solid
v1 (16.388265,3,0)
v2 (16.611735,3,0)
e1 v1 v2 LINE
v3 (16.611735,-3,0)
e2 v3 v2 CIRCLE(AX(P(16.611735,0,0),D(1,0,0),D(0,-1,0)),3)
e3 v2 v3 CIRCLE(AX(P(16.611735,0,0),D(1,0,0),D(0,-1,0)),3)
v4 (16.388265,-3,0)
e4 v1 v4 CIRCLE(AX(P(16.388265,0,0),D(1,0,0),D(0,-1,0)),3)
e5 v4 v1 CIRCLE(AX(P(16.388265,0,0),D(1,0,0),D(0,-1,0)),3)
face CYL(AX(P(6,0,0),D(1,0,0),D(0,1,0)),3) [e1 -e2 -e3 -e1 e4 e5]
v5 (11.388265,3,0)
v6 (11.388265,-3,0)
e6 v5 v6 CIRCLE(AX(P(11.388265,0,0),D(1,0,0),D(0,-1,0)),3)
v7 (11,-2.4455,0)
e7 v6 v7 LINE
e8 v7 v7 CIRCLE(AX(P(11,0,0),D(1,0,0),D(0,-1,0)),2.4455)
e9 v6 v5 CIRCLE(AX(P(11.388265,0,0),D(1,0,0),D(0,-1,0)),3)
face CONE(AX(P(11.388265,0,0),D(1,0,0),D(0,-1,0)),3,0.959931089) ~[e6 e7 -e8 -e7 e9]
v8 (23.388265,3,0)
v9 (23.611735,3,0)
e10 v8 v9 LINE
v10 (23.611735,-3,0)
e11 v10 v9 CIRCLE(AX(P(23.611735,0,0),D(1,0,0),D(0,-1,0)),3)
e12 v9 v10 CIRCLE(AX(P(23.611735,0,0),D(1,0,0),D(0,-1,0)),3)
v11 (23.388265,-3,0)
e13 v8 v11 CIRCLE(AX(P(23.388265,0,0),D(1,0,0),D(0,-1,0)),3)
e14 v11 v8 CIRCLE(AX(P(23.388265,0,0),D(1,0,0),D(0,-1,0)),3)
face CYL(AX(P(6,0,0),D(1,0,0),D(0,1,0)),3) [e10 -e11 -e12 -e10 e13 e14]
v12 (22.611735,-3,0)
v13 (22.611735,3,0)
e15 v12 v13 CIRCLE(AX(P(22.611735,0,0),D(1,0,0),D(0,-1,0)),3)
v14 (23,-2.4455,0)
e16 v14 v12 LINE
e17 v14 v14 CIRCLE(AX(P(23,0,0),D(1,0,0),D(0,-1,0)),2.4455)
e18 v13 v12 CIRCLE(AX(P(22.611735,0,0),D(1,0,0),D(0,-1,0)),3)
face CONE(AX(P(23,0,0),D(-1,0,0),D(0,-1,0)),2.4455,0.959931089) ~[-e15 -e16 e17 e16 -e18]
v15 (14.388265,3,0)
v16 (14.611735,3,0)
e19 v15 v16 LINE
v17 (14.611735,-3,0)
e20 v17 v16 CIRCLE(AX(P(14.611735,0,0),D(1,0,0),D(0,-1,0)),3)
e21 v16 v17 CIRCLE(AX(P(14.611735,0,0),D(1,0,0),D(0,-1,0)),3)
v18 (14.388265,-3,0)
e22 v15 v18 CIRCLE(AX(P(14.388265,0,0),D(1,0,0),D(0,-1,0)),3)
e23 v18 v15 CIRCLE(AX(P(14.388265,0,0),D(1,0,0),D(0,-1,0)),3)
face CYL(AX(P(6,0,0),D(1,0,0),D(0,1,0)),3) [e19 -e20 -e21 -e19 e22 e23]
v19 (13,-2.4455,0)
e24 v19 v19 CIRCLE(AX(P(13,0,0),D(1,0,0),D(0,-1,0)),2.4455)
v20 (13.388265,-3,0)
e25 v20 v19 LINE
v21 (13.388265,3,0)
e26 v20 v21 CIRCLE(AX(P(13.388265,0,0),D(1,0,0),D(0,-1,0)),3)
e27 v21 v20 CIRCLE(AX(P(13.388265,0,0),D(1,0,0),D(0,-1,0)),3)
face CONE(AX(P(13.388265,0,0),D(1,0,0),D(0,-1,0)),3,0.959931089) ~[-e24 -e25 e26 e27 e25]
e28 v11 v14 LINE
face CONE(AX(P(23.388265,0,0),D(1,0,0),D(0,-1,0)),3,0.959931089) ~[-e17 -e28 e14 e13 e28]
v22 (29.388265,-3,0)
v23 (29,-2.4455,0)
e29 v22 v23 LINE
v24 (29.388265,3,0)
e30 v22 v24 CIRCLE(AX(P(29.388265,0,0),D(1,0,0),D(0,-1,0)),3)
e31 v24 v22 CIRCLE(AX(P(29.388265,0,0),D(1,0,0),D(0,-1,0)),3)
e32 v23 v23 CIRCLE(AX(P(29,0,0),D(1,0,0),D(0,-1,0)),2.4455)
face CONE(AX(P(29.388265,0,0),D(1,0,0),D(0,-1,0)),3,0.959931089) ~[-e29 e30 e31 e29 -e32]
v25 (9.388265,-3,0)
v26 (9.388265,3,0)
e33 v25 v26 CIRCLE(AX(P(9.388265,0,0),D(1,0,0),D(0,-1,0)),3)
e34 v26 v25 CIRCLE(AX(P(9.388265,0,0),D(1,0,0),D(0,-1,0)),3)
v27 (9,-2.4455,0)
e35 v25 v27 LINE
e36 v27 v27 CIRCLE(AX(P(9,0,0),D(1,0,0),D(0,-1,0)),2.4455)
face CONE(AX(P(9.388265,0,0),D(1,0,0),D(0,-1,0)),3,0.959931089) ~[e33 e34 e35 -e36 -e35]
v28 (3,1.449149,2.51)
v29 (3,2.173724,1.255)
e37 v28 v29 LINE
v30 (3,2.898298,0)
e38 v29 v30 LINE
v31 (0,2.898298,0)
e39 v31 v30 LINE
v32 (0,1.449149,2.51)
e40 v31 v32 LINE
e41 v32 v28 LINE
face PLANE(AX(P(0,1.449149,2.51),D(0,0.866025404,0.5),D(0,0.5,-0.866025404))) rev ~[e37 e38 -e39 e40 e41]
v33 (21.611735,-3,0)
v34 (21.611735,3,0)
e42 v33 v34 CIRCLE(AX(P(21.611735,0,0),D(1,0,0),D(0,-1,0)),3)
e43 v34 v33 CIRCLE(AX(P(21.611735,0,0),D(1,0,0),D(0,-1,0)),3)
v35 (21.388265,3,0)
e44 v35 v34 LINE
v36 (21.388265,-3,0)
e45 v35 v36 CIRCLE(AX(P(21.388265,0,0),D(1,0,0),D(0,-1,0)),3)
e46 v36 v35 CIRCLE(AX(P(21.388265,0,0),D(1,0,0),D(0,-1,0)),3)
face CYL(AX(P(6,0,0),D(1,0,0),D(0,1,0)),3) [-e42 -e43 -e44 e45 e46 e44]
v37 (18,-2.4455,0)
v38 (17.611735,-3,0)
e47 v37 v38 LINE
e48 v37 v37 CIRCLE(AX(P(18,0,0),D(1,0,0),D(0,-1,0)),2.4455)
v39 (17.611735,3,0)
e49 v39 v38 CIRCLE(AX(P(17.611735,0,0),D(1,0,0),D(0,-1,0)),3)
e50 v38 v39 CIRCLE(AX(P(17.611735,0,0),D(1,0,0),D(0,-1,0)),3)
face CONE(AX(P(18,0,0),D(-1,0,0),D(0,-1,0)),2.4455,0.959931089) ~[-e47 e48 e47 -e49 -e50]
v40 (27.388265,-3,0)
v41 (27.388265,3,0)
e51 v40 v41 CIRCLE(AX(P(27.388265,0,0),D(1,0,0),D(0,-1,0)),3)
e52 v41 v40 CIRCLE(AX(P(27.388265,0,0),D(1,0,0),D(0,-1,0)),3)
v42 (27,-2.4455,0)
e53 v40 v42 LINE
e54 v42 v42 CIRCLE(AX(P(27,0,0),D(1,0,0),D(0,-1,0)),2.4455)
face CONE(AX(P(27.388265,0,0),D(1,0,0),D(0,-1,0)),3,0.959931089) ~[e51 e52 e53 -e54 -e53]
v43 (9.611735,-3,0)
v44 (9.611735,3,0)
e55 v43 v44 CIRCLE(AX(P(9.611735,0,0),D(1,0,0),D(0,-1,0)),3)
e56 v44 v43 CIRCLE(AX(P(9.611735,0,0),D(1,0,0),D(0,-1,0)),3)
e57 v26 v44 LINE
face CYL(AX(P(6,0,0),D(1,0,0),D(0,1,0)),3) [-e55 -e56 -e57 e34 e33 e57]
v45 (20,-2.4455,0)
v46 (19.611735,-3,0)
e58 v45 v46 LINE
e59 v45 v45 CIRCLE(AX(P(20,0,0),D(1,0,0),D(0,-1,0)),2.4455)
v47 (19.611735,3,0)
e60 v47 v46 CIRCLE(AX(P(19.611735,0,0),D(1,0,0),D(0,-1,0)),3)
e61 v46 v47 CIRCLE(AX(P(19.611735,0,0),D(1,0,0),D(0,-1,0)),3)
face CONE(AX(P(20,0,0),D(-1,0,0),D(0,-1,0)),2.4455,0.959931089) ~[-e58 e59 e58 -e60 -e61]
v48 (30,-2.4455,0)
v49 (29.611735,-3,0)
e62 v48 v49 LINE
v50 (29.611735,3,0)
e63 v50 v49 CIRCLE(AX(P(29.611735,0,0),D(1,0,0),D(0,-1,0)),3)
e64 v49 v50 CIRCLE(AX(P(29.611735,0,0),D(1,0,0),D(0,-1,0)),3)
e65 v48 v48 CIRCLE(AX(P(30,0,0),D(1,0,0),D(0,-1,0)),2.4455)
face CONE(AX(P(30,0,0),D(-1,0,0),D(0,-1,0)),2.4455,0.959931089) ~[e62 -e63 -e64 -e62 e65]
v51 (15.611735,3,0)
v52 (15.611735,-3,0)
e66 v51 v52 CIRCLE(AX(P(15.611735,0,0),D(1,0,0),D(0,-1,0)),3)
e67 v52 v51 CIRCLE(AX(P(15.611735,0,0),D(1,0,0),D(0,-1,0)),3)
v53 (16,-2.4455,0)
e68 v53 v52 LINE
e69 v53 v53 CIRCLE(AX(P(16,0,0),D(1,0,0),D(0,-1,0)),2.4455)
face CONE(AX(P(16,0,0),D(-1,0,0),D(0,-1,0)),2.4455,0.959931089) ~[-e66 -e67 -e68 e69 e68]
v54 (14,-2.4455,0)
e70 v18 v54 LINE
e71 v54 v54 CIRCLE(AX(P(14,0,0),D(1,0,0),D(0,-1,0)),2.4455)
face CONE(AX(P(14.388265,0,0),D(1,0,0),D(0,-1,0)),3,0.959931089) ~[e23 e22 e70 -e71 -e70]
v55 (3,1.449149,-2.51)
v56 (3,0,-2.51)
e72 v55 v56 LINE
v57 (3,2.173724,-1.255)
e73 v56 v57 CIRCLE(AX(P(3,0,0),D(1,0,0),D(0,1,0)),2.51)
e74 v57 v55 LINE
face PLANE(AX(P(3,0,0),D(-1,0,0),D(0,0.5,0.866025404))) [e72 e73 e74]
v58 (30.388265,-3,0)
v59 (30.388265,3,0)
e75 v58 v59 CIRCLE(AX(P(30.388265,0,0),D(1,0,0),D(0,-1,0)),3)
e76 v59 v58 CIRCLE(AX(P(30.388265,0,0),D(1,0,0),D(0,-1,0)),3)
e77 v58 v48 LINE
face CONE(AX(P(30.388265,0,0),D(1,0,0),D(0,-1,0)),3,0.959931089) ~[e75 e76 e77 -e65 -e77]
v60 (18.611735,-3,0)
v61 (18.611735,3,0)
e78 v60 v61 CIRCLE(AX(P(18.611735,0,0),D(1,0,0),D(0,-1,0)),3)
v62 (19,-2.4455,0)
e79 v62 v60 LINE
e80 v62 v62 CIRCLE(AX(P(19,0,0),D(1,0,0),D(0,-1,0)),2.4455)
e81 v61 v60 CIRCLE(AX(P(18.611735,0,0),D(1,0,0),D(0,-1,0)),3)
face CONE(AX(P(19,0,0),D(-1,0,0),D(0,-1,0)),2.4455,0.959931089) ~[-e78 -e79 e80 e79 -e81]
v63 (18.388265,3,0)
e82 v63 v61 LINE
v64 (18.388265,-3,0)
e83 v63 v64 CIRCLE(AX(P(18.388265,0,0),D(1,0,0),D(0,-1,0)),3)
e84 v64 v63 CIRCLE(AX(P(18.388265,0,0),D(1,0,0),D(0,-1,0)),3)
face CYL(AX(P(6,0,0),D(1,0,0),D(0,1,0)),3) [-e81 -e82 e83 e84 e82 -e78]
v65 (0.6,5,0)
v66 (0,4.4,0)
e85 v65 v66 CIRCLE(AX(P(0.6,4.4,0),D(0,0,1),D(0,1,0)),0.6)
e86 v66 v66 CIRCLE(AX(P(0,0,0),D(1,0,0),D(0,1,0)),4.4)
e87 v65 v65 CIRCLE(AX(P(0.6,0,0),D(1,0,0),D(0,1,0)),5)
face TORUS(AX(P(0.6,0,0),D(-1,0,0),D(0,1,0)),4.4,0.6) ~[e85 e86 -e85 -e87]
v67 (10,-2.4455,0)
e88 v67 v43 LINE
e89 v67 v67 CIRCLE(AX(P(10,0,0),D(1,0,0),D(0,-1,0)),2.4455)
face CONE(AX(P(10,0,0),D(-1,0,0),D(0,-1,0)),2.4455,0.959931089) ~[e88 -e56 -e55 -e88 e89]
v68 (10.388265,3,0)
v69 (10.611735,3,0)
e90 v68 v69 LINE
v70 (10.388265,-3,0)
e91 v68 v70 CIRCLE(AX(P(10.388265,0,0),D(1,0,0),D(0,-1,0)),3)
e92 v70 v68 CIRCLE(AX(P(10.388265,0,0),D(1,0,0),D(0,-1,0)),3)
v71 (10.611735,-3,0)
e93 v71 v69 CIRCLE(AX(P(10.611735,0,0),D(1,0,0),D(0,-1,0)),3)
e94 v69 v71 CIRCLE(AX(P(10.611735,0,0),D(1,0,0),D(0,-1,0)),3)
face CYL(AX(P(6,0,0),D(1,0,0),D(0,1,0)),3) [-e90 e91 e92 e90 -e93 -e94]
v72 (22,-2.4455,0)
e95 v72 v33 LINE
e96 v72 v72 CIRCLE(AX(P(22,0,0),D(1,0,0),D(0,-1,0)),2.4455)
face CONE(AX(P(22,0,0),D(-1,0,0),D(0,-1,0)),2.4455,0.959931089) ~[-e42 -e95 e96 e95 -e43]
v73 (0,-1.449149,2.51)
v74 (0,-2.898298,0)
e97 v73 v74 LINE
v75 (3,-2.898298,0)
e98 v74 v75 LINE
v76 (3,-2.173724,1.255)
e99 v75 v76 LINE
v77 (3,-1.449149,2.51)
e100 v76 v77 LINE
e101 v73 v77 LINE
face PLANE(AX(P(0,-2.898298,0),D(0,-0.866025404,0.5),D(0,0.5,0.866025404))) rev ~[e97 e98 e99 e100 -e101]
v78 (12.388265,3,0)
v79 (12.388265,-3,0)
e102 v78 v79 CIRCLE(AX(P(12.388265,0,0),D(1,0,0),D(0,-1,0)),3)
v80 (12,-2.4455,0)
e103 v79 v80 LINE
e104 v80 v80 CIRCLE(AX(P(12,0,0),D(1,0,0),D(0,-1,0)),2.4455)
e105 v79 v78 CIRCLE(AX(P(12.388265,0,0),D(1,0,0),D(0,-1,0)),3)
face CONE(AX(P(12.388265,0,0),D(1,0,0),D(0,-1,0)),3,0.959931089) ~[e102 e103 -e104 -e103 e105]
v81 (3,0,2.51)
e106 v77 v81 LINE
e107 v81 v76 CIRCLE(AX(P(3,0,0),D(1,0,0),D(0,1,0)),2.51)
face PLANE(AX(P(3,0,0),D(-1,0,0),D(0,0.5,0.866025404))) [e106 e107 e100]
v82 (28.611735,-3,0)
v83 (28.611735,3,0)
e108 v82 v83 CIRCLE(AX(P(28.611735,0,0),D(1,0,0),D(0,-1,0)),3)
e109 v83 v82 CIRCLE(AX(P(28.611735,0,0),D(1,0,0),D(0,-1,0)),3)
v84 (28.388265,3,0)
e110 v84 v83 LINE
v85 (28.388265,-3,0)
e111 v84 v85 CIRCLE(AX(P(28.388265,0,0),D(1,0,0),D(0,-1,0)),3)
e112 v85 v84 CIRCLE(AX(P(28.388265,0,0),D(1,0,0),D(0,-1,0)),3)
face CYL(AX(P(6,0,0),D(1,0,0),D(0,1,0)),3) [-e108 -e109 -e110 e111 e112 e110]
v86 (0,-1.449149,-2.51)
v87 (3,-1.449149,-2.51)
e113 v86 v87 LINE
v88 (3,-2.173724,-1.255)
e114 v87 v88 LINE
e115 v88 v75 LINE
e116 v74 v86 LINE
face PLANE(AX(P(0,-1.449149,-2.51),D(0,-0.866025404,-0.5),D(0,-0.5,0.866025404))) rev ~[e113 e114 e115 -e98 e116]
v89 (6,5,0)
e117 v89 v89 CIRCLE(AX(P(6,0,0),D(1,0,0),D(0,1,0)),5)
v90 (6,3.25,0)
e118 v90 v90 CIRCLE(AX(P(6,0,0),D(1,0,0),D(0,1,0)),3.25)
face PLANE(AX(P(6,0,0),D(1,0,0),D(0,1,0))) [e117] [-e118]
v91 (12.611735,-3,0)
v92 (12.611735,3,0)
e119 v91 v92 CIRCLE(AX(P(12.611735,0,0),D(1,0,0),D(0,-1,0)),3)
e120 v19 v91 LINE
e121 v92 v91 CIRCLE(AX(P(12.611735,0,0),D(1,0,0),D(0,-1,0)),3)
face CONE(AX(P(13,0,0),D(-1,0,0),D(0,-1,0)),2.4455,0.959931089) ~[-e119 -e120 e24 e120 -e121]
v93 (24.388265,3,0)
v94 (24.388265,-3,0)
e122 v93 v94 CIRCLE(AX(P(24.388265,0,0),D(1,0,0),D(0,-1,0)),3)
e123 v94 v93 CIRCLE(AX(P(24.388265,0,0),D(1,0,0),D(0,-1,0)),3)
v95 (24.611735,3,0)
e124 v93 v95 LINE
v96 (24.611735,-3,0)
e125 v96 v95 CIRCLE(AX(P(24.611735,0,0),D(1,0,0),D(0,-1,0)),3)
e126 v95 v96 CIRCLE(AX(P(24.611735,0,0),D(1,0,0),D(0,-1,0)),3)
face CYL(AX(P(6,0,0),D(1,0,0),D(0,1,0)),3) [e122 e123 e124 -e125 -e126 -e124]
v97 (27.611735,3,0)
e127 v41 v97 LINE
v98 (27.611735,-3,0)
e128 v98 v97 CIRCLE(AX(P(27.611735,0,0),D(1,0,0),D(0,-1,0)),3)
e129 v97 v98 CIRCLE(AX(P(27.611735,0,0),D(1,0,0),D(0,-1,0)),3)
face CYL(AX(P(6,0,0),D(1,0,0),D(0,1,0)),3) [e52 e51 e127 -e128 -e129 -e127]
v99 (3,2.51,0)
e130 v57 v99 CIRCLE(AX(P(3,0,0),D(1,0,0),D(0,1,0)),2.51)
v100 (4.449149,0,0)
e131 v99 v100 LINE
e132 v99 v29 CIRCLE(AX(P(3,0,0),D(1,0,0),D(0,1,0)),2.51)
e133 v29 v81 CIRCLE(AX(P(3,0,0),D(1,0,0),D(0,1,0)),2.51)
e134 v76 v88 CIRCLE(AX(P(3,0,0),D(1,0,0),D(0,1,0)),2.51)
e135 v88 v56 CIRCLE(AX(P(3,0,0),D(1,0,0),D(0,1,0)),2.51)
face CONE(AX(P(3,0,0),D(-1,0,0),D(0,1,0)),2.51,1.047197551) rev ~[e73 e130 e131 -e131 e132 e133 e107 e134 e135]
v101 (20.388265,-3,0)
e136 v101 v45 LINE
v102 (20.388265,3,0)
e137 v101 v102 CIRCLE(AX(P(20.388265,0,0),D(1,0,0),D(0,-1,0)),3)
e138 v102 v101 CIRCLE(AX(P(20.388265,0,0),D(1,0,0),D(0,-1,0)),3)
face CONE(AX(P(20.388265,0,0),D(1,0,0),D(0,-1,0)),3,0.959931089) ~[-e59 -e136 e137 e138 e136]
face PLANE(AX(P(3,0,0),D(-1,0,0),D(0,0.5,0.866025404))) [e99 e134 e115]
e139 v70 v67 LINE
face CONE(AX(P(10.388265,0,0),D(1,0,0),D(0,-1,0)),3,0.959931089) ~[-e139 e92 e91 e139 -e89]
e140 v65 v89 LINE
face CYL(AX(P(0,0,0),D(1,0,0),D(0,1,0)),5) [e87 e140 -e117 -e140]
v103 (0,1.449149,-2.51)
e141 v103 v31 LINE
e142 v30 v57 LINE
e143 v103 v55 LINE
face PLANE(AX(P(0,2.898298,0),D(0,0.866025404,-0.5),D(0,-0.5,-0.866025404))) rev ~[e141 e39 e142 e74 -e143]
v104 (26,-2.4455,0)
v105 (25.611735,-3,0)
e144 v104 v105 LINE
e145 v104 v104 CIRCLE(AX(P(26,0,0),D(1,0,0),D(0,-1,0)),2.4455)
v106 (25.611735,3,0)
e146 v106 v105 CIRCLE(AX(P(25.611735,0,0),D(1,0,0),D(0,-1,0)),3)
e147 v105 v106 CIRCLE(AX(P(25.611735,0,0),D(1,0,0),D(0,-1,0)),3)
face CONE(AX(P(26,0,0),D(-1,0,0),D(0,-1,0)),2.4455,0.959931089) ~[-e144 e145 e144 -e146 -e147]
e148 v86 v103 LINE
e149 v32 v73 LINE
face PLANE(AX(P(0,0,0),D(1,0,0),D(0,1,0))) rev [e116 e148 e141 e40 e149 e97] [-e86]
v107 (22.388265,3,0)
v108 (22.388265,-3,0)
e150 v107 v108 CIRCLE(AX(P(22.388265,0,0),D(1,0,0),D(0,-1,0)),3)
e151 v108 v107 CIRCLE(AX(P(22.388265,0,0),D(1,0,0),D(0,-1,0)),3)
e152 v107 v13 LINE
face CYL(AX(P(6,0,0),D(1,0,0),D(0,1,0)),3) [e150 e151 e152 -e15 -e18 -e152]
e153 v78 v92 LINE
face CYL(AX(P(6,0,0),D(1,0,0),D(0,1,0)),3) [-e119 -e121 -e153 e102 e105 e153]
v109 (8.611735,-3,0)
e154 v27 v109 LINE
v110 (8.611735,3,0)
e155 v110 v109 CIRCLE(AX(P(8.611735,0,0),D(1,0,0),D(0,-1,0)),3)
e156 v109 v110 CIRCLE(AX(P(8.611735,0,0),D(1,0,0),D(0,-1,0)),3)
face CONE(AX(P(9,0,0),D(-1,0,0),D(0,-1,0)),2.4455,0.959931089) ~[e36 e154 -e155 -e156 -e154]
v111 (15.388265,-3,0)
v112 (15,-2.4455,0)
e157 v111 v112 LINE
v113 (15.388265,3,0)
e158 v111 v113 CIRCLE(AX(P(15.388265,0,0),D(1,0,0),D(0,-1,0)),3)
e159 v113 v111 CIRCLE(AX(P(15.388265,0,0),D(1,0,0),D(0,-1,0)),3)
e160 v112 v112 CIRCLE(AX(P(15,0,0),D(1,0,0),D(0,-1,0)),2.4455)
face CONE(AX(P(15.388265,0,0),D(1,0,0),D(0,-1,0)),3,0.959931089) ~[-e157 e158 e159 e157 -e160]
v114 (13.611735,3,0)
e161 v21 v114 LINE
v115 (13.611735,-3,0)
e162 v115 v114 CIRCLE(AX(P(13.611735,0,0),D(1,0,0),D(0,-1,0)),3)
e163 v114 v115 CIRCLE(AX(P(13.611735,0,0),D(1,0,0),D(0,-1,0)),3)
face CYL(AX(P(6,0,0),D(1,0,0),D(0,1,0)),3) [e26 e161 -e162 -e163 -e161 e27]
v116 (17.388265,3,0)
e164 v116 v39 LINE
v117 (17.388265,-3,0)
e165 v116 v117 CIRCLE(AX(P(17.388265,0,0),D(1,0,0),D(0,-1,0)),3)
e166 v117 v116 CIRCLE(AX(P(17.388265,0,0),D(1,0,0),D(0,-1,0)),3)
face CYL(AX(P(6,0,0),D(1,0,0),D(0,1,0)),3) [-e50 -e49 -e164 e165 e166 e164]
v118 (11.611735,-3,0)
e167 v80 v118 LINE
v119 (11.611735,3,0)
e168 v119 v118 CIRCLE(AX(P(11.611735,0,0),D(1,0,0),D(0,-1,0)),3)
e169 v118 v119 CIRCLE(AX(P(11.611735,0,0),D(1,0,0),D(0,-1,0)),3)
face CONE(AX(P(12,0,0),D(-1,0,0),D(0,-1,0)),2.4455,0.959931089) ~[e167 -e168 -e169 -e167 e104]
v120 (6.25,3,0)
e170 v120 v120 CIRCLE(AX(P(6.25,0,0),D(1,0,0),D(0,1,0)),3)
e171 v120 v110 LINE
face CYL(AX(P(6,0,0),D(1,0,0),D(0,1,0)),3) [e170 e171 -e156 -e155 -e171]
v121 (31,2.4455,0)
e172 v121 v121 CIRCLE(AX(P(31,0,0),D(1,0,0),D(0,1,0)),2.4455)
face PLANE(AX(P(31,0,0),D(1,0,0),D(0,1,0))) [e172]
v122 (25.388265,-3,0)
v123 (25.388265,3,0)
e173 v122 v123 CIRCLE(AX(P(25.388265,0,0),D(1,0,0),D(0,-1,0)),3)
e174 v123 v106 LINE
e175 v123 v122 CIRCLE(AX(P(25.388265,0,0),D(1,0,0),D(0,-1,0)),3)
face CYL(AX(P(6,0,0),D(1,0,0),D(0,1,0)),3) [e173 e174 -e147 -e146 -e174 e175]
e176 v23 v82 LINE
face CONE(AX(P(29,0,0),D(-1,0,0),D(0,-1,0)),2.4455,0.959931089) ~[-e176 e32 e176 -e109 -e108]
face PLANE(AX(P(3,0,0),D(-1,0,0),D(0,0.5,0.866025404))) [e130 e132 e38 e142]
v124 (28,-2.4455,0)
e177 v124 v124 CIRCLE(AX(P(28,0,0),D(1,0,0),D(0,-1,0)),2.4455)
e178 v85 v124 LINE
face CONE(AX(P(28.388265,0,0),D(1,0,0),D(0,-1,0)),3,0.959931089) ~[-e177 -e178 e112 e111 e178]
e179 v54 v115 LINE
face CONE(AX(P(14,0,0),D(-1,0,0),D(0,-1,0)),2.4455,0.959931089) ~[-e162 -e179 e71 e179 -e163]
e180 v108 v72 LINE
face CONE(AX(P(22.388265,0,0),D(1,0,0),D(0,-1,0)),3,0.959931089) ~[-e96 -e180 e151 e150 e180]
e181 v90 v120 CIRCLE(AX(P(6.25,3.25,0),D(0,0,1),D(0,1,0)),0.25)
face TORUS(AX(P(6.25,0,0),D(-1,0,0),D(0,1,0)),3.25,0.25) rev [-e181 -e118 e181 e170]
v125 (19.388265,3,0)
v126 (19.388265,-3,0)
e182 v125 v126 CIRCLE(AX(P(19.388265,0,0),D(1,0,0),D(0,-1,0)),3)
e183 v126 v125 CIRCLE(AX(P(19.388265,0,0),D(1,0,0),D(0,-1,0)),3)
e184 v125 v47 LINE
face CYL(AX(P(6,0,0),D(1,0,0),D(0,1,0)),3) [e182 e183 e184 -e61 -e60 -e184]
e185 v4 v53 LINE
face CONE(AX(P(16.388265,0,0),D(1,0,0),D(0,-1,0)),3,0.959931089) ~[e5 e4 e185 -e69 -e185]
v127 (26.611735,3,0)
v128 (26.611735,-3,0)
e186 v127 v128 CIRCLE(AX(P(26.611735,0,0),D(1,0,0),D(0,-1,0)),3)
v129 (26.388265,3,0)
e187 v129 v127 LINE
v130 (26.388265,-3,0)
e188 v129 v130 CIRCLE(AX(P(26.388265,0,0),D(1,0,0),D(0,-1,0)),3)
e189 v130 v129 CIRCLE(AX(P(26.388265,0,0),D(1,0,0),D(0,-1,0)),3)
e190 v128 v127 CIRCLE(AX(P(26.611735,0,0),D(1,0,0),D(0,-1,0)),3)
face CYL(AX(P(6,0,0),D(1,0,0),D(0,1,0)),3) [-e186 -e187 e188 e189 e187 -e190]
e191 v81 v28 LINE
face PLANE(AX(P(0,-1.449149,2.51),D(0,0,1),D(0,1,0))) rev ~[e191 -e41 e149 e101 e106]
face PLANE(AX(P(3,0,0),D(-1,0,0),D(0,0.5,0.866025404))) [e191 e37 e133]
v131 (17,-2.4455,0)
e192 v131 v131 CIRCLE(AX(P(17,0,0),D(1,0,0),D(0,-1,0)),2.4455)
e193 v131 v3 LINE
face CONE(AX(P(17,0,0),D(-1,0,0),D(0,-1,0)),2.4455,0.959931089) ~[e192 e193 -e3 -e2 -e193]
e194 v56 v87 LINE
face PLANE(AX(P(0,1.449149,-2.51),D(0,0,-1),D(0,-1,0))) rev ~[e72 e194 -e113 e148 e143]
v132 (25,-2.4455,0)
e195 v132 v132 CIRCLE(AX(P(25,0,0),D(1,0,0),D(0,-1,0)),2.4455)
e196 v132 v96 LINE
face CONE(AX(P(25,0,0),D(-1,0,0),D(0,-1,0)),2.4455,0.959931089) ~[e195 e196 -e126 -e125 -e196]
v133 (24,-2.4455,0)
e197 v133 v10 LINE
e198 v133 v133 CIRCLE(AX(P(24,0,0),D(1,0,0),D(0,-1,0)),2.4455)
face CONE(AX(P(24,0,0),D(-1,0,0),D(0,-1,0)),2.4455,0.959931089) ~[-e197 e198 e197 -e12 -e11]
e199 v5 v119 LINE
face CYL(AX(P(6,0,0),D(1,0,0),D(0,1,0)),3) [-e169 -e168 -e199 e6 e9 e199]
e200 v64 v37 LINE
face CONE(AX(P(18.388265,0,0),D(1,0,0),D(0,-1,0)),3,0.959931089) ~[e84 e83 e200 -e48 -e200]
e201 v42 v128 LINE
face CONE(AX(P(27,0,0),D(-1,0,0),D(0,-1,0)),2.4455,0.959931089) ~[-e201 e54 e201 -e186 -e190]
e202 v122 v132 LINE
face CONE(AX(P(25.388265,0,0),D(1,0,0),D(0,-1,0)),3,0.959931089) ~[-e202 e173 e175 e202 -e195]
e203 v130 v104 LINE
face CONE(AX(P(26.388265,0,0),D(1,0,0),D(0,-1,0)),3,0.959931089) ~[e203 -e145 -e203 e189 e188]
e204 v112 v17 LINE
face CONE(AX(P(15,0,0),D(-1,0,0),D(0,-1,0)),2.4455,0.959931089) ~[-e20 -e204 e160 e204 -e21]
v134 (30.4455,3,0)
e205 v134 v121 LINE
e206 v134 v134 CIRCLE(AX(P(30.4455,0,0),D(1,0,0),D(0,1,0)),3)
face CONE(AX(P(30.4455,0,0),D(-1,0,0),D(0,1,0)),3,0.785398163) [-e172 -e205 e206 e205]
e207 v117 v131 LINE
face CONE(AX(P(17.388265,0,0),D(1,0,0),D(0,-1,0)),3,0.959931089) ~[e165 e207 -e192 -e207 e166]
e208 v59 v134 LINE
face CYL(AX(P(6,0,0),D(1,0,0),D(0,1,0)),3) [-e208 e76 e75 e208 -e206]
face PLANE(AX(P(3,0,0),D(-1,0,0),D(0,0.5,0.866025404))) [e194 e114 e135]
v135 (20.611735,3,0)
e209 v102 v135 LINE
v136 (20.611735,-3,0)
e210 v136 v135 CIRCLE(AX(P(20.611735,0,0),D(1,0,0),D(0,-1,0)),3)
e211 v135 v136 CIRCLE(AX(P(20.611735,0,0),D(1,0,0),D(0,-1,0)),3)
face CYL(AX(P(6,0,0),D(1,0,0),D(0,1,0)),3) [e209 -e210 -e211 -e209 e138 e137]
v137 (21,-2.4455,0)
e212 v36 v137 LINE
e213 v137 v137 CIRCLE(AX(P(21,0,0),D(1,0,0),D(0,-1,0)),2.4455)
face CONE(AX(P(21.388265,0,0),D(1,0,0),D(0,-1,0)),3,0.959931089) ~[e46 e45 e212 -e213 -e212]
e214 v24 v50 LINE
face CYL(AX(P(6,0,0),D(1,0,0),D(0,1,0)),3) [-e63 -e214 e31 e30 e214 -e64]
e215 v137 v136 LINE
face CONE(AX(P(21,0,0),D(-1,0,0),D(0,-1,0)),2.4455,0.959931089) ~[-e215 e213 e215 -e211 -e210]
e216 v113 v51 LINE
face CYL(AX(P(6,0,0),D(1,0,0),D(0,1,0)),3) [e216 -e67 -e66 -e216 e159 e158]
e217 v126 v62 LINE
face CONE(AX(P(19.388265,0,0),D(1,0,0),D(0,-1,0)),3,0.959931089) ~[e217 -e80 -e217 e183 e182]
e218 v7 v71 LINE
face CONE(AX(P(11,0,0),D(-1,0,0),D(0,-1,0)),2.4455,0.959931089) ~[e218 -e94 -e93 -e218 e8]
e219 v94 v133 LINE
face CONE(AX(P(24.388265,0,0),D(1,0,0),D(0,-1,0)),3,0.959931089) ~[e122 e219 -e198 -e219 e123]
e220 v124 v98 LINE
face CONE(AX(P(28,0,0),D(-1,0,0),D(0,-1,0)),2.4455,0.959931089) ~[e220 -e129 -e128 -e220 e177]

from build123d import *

# Parameters (mm, degrees)
FILLET1_R       = 0.25
FILLET2_R       = 0.6
HEX_2_DEPTH     = 3
THDSCHPAT_COUNT = 22
THDSCHPAT_PITCH = 1


with BuildPart() as part:
    # BodySke → Base-Revolve (revolve)
    with BuildSketch(Plane.XY):
        Polygon((0, 0), (0, 5), (6, 5), (6, 3), (30.4455, 3), (31, 2.4455), (31, 0), align=None)
    revolve(axis=Axis((-31.75, 0, 0), (1, 0, 0)))

    # Fillet1
    fillet1_edges = [part.edges().sort_by_distance(p)[0] for p in [
        (6, -3, 0),
    ]]
    fillet(fillet1_edges, radius=FILLET1_R)

    # Fillet2
    fillet2_edges = [part.edges().sort_by_distance(p)[0] for p in [
        (0, -5, 0),
    ]]
    fillet(fillet2_edges, radius=FILLET2_R)

    # Sketch2 → Hex-PreBroach (revolve, cut)
    with BuildSketch(Plane.XY):
        Polygon((0, 2.51), (3, 2.51), (4.449149176, 0), (0, 0), align=None)
    revolve(axis=Axis((0, 0, 0), (1, 0, 0)), mode=Mode.SUBTRACT)

    # Sketch3 → Hex 2 (cut)
    with BuildSketch(Plane(origin=(0, 0, 0), x_dir=(0, 0.5, 0.866025404), z_dir=(-1, 0, 0))):
        Polygon((1.449149176, 2.51), (-1.449149176, 2.51), (-2.898298351, 0), (-1.449149176, -2.51), (1.449149176, -2.51), (2.898298351, 0), align=None)
    extrude(amount=-HEX_2_DEPTH, mode=Mode.SUBTRACT)

    # ThdSchSke → ThreadSchematic (revolve, cut)
    with BuildSketch(Plane.XY):
        Polygon((9, -2.4455), (8.61173492, -3), (8.61173492, -3.75), (9.38826508, -3.75), (9.38826508, -3), align=None)
    threadschematic = revolve(axis=Axis((-3.175, 0, 0), (1, 0, 0)), mode=Mode.SUBTRACT)

    # ThdSchPat: ThreadSchematic ×22
    with Locations(*[(i * THDSCHPAT_PITCH, 0, 0) for i in range(1, THDSCHPAT_COUNT)]):
        add(threadschematic, mode=Mode.SUBTRACT)


solid = part.part
